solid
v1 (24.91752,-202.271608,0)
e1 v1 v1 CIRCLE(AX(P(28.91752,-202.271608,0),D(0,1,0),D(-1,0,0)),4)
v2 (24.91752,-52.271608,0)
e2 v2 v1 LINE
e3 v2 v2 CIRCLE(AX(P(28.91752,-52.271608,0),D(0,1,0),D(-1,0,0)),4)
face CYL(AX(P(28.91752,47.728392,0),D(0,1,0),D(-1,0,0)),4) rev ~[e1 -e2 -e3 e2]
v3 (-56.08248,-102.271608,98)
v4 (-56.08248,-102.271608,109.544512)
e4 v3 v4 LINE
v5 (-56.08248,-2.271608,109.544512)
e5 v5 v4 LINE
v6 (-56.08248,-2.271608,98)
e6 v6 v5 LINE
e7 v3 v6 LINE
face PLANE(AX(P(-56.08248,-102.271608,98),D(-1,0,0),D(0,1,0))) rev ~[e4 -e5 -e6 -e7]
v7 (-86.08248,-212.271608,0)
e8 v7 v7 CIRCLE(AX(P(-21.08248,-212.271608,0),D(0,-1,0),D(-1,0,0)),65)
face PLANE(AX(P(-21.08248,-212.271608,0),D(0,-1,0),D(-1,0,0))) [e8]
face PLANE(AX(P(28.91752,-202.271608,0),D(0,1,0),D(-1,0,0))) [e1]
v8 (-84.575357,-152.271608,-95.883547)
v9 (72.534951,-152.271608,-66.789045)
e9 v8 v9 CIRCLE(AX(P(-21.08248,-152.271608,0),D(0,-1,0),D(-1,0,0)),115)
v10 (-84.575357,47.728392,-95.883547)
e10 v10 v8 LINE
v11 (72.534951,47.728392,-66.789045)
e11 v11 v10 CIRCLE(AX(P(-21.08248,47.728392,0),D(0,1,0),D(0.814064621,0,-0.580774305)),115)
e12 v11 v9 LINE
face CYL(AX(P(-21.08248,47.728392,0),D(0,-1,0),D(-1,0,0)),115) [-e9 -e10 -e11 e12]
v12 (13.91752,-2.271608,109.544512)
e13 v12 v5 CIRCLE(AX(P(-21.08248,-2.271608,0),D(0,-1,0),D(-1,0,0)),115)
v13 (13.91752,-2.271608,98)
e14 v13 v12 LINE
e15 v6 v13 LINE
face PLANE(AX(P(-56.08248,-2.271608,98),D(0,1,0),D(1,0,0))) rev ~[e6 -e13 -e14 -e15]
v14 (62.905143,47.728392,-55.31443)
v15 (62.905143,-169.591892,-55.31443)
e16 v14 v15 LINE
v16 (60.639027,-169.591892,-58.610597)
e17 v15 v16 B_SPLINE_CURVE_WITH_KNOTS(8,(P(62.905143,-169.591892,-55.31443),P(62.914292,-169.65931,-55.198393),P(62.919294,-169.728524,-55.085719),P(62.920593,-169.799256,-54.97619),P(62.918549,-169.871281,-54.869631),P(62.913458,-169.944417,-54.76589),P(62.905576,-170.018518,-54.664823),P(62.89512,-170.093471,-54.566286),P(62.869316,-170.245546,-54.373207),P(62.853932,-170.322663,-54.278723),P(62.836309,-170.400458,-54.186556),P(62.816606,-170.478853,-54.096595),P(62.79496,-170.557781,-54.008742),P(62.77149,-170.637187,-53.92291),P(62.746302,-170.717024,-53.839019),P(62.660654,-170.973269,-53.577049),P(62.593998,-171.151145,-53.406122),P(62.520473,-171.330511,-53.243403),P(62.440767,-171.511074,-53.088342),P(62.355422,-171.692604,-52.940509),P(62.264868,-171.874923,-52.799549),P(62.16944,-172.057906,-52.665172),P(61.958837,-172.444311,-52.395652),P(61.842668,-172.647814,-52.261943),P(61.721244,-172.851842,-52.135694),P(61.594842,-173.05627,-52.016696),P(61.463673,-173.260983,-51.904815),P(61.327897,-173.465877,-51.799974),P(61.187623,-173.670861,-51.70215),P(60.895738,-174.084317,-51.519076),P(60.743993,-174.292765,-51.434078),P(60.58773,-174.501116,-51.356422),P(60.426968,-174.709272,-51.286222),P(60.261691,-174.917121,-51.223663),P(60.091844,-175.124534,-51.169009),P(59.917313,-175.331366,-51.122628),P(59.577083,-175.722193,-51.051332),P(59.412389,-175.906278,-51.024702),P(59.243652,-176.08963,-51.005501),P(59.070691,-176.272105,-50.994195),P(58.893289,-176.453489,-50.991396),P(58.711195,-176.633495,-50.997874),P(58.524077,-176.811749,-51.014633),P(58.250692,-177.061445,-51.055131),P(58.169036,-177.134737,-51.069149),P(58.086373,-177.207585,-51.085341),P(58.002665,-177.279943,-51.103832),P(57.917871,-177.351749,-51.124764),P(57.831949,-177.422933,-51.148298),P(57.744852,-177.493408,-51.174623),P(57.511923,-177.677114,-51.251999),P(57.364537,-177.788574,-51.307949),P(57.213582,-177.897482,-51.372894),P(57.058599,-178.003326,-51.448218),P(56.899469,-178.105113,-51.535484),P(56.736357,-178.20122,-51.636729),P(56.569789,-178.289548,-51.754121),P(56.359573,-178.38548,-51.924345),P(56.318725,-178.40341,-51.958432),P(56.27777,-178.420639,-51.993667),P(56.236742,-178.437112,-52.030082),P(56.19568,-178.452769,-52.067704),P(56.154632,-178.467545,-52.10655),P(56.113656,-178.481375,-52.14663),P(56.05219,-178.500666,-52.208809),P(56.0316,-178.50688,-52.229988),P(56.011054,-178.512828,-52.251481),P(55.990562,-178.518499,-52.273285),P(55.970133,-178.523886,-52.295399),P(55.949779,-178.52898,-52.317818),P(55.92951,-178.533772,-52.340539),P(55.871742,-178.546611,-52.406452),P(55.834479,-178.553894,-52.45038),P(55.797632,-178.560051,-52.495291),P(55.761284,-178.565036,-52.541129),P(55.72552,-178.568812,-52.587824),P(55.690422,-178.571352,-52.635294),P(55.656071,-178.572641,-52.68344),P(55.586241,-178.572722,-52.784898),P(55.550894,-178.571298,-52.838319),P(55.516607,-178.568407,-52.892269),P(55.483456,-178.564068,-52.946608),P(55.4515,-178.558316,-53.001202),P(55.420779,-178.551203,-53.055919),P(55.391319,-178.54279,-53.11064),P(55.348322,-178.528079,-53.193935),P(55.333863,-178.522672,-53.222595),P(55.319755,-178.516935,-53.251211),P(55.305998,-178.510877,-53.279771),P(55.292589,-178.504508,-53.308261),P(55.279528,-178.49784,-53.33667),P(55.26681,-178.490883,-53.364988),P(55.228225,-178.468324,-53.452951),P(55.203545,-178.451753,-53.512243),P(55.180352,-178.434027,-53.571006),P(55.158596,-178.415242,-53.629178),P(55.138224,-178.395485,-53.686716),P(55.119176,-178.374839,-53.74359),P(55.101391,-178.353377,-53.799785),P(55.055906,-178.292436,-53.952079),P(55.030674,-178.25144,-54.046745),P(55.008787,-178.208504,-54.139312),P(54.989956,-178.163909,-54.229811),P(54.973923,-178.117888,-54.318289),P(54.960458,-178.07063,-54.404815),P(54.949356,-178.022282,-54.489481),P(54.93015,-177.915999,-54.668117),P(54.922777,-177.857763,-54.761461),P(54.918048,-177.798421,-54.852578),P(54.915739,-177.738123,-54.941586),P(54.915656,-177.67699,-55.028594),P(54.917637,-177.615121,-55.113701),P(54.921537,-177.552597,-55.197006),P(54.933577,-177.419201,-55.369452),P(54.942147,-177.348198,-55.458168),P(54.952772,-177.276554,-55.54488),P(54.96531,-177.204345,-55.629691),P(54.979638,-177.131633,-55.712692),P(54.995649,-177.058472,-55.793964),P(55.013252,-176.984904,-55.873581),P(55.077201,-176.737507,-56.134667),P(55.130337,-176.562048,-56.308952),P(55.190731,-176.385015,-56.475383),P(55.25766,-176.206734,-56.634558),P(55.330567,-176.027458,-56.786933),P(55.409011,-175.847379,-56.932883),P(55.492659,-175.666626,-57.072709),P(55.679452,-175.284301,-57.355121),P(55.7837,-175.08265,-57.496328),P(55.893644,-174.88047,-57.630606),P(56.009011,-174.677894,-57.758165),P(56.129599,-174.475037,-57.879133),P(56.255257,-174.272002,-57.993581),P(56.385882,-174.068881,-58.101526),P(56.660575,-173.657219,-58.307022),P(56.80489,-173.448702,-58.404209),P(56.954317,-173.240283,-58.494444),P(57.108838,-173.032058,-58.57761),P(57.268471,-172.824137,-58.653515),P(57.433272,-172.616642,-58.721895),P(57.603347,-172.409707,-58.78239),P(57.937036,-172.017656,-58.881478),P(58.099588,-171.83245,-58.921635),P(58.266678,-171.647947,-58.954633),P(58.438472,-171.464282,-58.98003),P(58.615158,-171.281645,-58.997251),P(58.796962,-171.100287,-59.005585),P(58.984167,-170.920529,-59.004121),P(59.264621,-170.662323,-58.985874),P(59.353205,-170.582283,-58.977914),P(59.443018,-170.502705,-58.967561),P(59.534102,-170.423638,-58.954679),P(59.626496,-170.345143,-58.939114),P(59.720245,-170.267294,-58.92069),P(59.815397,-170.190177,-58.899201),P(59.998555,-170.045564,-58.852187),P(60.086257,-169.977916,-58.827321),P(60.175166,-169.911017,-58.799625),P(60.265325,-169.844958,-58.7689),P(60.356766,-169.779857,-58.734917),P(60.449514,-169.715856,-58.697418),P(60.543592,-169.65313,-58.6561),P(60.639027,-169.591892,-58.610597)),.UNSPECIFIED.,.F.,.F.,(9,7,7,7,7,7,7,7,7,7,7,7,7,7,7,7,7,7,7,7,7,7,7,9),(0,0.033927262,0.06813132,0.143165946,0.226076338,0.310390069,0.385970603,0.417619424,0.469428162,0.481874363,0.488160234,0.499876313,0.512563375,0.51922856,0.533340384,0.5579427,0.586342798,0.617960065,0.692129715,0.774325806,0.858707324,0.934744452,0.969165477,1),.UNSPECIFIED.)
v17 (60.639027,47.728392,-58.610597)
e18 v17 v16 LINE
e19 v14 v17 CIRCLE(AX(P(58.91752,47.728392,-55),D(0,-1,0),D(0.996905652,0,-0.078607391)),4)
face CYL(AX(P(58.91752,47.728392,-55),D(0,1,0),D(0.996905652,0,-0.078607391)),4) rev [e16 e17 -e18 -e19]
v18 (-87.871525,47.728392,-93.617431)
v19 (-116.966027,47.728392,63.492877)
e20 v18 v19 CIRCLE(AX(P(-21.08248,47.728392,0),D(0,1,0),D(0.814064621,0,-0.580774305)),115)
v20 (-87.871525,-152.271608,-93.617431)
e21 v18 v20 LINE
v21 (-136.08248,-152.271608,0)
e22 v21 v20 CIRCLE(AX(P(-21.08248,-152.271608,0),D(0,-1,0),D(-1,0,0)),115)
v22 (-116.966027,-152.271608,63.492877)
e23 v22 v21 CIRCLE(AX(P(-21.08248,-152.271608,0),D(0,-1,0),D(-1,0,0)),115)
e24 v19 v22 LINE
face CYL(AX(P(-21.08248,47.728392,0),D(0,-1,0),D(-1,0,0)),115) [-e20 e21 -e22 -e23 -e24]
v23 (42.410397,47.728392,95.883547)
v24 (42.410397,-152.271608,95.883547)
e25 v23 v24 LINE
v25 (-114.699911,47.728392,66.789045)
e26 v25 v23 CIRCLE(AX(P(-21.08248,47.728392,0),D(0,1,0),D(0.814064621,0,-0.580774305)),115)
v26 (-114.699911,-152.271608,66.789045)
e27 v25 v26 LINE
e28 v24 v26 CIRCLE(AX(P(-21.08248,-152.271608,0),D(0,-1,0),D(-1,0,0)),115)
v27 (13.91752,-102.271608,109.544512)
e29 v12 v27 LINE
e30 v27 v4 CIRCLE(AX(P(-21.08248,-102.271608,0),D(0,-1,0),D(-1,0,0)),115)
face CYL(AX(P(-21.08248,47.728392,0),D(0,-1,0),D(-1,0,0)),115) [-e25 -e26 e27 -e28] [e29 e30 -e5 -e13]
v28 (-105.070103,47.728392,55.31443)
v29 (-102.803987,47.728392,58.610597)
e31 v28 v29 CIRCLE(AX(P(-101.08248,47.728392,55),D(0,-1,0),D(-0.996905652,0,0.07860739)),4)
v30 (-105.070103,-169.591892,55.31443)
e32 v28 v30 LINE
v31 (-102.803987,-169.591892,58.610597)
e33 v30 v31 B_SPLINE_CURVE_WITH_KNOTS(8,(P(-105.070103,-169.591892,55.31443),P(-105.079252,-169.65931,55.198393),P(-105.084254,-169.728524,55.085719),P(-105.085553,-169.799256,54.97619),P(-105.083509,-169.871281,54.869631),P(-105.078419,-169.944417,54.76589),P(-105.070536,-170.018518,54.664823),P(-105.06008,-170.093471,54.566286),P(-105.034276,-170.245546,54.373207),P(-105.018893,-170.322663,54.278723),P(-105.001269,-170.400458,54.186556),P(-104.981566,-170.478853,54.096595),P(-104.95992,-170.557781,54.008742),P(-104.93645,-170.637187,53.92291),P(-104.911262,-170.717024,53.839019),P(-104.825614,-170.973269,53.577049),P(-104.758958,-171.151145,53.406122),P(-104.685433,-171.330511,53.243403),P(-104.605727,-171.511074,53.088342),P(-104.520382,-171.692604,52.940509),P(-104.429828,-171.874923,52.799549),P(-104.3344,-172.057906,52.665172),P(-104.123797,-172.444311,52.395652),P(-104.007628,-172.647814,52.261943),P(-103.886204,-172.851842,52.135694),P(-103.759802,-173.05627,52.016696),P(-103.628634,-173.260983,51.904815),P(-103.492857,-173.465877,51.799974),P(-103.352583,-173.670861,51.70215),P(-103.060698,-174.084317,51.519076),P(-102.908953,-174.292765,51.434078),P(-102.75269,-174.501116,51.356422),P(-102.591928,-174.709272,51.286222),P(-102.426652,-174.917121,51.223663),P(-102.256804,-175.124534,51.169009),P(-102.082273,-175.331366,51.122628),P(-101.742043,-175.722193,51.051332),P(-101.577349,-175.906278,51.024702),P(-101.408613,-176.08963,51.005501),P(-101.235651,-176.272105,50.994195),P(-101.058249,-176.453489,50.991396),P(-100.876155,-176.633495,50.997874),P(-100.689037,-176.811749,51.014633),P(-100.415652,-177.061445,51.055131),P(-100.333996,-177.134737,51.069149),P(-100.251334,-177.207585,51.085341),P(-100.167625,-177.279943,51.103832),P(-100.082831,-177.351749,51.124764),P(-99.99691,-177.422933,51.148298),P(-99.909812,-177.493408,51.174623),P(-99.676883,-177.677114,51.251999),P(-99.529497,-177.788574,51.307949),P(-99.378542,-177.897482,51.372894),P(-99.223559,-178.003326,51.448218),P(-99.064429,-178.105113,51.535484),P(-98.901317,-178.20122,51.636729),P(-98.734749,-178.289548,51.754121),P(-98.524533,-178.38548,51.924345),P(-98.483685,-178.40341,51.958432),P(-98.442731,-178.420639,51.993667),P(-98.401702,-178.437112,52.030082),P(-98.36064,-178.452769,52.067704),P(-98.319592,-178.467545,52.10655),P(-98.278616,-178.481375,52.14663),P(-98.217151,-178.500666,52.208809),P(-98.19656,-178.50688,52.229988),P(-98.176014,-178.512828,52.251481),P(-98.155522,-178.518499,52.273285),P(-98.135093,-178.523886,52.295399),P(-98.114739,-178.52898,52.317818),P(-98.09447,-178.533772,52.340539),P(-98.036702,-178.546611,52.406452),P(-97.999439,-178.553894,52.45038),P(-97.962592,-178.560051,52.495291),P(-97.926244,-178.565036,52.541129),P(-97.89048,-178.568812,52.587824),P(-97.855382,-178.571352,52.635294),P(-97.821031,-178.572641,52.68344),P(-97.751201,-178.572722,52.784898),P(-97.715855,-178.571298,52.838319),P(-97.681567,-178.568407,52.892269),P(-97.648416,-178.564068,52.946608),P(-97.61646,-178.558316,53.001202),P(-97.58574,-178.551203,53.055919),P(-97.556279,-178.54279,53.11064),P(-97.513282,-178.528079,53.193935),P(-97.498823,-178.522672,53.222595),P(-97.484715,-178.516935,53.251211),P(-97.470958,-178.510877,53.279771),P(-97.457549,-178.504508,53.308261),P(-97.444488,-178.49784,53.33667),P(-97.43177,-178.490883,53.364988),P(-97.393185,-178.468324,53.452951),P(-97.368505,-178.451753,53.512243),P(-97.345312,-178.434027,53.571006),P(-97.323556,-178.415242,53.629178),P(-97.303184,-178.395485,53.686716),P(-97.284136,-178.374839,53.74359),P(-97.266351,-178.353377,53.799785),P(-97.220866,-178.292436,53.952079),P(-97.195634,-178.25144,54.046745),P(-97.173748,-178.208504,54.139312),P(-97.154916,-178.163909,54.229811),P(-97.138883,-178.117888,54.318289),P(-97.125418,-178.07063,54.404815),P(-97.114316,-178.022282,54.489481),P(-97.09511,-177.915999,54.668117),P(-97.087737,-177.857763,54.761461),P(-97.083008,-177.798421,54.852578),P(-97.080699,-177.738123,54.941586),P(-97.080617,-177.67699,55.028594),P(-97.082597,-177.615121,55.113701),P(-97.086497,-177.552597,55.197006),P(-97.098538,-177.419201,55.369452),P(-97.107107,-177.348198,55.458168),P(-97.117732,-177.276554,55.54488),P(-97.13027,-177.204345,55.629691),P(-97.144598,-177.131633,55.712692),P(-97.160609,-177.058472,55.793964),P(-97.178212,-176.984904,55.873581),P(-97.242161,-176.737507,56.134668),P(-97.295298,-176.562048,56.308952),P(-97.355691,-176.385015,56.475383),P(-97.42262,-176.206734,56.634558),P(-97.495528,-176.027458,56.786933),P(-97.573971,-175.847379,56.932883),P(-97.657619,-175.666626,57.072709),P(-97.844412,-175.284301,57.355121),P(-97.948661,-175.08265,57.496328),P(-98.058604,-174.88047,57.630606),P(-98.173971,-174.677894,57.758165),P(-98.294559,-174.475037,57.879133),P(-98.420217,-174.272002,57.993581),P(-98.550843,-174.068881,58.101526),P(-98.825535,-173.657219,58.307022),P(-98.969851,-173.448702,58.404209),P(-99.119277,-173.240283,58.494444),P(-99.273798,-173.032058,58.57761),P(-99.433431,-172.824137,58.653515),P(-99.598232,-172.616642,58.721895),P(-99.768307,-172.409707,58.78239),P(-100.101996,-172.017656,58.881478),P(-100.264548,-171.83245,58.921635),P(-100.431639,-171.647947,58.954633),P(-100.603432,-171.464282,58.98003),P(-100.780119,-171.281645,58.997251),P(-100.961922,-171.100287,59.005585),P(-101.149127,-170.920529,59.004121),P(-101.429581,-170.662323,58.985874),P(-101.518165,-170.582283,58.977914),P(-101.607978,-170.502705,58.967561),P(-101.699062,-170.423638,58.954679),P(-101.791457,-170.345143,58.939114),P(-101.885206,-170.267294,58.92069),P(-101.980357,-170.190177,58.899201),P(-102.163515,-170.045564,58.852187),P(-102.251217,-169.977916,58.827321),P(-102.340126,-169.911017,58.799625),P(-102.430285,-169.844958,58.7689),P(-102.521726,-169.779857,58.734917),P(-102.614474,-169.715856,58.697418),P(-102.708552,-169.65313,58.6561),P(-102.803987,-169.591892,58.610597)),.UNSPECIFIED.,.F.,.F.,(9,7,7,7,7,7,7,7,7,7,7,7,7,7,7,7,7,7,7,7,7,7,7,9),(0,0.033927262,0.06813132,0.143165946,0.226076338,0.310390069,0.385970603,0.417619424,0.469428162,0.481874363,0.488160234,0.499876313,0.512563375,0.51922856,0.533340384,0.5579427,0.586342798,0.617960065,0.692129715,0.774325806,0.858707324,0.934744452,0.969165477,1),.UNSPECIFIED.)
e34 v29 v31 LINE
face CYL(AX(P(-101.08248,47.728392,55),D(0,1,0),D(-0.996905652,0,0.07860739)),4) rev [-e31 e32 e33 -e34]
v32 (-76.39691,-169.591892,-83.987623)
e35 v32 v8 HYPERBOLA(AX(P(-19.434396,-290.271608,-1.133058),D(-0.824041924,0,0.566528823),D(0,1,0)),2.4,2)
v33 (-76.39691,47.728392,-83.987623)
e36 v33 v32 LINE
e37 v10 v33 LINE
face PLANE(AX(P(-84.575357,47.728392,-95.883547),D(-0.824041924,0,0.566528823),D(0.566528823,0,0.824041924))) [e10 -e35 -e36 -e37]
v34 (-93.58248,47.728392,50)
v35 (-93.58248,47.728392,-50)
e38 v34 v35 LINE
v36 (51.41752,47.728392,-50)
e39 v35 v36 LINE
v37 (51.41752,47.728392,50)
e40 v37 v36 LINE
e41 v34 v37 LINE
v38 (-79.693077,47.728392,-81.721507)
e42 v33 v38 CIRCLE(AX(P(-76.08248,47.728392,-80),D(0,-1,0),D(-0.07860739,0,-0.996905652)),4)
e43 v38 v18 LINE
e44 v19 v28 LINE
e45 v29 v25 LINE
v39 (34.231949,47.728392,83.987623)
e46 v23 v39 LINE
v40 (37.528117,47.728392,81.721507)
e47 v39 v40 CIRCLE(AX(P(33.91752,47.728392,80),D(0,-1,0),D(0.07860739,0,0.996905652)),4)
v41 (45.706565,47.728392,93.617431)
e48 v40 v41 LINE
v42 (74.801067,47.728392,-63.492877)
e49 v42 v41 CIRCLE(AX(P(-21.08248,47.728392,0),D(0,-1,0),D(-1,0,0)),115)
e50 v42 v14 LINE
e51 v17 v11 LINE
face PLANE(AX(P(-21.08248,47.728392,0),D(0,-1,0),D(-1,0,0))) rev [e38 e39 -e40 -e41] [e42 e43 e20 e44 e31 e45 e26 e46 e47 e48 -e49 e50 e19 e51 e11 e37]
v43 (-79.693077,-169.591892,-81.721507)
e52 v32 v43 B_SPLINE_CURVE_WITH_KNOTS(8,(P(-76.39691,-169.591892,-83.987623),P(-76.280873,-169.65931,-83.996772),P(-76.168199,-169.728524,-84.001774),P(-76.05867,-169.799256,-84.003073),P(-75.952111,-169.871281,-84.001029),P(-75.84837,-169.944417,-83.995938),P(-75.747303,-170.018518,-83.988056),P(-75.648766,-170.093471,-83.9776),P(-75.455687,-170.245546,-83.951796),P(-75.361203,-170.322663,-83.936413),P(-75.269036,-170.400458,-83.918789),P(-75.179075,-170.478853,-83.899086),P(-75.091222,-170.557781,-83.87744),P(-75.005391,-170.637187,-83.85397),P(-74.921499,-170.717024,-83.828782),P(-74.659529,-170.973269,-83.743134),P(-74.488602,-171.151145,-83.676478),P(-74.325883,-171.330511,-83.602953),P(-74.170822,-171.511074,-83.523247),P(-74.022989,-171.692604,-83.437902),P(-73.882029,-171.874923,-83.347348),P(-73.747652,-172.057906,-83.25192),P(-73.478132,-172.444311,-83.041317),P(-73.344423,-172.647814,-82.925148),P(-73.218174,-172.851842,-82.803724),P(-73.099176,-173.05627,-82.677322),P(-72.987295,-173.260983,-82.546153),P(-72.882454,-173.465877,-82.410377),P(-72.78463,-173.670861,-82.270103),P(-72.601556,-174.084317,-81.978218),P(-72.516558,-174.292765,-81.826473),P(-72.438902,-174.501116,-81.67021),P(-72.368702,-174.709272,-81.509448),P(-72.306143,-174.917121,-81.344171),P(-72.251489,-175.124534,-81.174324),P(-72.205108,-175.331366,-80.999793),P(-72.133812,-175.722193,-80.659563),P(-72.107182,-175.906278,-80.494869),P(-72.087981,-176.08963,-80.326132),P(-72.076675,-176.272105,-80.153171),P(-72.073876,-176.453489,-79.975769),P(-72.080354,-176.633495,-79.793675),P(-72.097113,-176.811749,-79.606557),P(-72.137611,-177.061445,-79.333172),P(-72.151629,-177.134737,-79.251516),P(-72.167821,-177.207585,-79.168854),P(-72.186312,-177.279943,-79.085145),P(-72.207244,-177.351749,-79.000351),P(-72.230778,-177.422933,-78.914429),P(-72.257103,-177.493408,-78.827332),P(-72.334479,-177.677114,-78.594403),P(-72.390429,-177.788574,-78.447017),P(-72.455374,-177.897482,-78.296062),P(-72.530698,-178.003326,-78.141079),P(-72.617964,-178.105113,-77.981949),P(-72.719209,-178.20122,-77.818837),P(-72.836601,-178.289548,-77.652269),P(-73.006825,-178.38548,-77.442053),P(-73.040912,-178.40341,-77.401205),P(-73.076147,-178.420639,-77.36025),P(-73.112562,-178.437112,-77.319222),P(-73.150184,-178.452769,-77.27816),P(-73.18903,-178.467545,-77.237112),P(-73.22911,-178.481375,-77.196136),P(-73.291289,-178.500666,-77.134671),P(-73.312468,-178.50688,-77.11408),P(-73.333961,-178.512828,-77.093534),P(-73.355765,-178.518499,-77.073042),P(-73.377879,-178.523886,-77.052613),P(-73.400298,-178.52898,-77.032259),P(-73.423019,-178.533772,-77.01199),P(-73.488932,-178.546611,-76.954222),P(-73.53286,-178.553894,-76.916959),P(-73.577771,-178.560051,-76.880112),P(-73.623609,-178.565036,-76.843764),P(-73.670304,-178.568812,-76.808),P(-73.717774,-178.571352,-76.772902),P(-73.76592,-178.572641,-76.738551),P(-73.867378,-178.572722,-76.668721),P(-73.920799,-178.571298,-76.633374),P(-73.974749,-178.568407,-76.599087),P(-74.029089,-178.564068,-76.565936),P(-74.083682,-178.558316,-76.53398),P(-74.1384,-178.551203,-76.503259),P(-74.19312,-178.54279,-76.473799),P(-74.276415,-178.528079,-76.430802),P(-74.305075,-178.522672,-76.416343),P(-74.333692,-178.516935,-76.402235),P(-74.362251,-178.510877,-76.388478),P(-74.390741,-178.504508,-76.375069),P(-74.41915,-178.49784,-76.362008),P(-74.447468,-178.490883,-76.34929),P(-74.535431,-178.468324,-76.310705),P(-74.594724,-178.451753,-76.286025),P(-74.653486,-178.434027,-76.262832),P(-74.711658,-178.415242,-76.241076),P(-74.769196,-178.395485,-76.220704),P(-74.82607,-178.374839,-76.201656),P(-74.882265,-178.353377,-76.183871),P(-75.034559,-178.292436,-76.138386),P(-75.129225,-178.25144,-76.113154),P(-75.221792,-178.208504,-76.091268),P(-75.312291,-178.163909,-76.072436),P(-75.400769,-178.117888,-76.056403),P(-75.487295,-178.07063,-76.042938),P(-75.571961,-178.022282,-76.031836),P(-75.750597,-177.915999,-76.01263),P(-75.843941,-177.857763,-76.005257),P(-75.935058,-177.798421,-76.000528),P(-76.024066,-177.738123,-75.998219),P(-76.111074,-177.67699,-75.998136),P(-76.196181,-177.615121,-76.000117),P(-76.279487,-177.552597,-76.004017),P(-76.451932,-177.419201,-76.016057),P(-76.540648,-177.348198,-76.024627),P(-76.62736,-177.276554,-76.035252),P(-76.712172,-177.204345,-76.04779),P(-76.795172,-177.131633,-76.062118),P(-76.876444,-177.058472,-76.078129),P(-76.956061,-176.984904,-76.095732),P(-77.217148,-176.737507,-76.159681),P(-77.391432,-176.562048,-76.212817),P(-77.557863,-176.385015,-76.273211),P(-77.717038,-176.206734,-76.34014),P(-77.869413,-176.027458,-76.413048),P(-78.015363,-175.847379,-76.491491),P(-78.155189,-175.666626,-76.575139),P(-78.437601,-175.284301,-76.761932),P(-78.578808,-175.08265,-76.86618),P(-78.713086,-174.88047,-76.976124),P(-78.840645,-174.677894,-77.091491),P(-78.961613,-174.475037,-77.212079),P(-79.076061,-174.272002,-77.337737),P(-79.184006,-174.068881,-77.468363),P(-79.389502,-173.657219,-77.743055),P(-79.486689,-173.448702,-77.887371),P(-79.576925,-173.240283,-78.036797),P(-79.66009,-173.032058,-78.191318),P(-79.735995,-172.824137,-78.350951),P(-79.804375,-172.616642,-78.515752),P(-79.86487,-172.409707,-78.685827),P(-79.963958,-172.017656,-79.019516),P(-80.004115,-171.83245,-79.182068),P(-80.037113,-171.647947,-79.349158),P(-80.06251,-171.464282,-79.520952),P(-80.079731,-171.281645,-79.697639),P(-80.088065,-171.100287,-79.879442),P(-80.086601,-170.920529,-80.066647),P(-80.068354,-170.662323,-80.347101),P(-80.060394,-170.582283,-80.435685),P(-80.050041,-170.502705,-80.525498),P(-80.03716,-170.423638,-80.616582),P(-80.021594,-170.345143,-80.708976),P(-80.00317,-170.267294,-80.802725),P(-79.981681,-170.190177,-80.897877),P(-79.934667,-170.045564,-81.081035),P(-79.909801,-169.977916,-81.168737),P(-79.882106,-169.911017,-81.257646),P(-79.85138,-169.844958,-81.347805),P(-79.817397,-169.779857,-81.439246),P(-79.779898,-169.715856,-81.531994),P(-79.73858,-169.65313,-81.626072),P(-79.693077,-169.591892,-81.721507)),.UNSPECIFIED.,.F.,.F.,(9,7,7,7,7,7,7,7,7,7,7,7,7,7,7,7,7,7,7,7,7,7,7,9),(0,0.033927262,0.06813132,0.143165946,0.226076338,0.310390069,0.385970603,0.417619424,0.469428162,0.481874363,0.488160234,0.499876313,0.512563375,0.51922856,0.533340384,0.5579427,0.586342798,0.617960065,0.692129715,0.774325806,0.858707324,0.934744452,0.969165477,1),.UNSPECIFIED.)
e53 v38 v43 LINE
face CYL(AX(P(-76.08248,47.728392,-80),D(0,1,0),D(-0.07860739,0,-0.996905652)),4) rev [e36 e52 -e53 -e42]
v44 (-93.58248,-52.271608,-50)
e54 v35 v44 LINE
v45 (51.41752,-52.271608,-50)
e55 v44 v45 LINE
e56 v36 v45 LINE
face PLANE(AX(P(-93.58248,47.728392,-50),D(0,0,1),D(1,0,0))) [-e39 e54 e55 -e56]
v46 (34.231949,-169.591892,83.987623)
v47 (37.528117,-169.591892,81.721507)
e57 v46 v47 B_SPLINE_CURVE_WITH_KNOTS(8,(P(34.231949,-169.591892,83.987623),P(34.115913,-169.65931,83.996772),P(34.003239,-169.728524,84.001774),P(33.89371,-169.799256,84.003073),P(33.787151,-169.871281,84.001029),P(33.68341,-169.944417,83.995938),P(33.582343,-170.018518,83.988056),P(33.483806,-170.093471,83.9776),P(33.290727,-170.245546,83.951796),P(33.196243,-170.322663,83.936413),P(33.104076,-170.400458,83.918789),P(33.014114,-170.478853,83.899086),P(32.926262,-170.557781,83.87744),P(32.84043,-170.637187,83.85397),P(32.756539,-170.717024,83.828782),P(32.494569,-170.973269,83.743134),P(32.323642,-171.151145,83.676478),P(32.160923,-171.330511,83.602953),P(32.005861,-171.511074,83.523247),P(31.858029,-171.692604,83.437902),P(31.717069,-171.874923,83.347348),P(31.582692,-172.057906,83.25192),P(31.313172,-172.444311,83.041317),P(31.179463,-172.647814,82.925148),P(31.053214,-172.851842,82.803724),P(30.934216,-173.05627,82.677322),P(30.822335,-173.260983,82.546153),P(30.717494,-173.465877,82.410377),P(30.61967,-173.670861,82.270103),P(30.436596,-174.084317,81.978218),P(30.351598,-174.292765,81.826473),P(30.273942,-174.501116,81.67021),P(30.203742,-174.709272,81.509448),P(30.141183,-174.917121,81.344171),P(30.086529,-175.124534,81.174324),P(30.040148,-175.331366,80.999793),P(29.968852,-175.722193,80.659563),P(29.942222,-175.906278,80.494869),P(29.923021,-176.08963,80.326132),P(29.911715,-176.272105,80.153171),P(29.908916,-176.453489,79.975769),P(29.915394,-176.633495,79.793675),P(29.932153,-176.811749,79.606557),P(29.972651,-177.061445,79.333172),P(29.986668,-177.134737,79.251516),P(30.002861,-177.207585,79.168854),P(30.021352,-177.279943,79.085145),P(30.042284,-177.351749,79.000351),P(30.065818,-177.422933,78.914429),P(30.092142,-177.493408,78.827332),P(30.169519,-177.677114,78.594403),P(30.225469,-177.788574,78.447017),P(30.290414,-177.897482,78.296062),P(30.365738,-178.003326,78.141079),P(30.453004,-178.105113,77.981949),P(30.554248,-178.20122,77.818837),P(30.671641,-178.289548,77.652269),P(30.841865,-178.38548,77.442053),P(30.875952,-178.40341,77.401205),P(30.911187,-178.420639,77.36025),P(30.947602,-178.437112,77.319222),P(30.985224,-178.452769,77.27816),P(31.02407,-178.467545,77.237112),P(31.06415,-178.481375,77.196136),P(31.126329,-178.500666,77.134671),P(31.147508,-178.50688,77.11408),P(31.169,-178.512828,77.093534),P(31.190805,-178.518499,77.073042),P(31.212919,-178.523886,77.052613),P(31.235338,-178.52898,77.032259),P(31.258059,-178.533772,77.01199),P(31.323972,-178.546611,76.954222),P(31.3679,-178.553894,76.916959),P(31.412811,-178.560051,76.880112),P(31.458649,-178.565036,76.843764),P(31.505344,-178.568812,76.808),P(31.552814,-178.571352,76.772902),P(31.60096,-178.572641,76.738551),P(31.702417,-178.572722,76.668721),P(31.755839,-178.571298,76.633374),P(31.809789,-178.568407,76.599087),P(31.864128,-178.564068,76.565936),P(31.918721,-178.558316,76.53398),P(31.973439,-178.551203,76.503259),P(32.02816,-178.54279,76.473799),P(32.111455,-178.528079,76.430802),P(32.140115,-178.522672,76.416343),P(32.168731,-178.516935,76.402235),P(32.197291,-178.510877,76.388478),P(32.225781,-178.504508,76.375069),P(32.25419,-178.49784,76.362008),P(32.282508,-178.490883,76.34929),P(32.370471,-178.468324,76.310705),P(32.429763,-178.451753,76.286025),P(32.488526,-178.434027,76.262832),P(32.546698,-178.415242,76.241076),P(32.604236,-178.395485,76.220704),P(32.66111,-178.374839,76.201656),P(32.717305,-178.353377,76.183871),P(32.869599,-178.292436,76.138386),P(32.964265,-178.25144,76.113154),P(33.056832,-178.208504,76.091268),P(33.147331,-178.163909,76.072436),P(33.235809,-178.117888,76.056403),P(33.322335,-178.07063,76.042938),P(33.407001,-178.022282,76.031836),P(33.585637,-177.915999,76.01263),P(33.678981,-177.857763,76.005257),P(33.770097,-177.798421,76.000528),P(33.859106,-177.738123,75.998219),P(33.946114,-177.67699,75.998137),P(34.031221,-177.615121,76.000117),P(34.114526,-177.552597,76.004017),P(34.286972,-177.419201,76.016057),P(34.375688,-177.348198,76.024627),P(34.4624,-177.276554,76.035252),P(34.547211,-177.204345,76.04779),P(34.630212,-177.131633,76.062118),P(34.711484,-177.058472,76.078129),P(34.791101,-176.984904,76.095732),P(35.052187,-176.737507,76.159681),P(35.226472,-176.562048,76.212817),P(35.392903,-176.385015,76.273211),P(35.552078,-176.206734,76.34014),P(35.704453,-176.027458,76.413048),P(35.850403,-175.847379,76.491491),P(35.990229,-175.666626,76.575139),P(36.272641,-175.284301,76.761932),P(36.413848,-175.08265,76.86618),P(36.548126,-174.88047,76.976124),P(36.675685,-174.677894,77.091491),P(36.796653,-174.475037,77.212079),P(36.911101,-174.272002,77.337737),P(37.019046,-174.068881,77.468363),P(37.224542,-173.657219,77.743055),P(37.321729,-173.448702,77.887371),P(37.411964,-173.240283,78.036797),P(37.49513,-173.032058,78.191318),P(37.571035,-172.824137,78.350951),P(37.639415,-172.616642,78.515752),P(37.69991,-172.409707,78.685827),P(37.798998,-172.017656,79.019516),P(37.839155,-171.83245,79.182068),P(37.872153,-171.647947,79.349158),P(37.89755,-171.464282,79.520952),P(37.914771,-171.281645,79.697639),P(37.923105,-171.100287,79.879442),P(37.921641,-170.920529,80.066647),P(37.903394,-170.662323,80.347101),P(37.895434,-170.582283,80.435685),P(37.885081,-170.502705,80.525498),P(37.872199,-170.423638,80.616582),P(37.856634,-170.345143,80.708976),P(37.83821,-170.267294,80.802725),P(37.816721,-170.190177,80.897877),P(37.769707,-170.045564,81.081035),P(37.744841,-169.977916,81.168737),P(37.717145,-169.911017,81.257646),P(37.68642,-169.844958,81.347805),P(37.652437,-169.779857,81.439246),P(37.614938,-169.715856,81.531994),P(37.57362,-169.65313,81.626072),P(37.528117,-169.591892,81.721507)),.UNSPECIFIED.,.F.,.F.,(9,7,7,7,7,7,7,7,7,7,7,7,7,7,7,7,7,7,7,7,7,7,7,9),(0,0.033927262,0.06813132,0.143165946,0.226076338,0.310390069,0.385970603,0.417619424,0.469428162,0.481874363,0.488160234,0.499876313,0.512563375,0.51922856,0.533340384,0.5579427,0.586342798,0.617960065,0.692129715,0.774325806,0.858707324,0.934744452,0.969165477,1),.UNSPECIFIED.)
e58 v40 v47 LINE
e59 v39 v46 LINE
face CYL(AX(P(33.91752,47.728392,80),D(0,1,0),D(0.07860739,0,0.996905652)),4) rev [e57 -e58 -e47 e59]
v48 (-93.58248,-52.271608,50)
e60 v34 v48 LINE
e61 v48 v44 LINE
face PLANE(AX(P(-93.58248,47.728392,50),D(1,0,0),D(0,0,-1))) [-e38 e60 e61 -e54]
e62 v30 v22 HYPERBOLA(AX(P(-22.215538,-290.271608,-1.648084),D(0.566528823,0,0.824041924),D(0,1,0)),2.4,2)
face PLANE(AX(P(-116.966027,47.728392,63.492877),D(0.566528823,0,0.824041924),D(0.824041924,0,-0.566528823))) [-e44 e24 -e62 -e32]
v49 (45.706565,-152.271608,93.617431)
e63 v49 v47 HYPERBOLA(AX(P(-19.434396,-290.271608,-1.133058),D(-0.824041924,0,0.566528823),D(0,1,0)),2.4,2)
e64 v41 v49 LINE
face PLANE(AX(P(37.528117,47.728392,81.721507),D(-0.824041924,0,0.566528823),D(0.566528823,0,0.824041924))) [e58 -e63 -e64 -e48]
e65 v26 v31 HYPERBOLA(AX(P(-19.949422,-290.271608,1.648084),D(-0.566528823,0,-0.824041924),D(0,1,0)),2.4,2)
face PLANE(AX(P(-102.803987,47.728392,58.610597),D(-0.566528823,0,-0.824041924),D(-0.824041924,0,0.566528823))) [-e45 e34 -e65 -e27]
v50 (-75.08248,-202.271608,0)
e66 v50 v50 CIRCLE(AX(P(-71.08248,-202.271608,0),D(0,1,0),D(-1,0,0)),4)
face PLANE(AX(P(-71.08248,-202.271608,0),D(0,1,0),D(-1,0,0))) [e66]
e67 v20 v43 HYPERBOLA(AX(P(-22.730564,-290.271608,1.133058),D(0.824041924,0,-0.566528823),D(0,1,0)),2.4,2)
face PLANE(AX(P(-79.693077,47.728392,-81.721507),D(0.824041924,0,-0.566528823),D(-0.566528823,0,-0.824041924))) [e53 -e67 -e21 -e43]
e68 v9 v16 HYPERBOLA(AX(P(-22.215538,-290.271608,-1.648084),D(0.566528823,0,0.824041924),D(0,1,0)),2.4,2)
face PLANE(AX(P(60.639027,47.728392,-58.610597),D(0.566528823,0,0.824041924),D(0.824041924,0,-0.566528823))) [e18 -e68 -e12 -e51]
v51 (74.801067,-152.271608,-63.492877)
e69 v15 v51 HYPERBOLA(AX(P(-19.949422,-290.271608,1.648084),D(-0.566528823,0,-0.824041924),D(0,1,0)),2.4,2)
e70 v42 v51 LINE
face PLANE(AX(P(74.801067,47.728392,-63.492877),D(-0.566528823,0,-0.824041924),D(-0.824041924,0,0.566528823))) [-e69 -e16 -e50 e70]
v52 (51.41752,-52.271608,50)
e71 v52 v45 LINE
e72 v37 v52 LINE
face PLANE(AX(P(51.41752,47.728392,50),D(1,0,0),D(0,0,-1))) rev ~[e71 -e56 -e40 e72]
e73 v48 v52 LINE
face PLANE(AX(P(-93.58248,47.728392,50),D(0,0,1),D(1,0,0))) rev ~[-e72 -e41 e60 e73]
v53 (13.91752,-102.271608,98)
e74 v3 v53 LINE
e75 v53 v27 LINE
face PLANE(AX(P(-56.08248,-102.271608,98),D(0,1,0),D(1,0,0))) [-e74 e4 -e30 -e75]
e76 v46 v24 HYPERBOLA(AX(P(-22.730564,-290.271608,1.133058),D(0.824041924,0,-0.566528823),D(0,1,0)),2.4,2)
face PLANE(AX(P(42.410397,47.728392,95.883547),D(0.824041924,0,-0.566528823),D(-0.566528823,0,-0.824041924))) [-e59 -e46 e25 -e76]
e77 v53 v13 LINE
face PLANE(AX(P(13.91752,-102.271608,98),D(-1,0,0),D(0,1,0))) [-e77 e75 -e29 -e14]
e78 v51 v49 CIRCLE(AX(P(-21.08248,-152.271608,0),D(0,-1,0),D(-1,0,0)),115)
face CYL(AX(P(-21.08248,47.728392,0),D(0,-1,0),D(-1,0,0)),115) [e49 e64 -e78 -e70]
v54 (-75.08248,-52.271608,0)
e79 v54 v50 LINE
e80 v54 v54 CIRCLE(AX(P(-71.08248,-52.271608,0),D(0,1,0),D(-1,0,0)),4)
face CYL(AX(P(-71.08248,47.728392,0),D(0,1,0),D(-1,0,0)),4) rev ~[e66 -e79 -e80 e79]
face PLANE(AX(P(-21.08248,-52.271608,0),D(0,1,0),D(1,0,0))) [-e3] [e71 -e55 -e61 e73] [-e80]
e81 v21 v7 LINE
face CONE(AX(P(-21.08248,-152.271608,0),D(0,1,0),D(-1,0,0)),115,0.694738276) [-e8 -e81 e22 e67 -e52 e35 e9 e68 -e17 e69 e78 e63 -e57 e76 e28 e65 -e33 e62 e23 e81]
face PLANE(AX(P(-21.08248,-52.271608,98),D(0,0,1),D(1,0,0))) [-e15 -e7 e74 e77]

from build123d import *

# Parameters (mm, degrees)
TAGLIO_ESTRUSIONE1_REACH = 262
SCHIZZO3_W               = 145
SCHIZZO3_H               = 100
TAGLIO_ESTRUSIONE2_DEPTH = 100
SCHIZZO4_R               = 4
TAGLIO_ESTRUSIONE3_DEPTH = 250
SCHIZZO6_W               = 70
SCHIZZO6_H               = 100
TAGLIO_ESTRUSIONE4_DEPTH = 18.0000001


with BuildPart() as part:
    # Schizzo1 → Rivoluzione1 (revolve)
    with BuildSketch(Plane.XY, mode=Mode.PRIVATE) as rivoluzione1_sk:
        Polygon((-21.082480081, 47.728392405), (93.917519919, 47.728392405), (93.917519919, -152.271607595), (43.917519919, -212.271607595), (-21.082480081, -212.271607595), align=None)
    revolve(rivoluzione1_sk.sketch.rotate(Axis((-21.082480081, 47.728392405, 0), (0, -1, 0)), 180), axis=Axis((-21.082480081, 47.728392405, 0), (0, -1, 0)))  # turned: the seam where the file's is

    # Taglio-Estrusione1: up to this cone (the profile starts inside it)
    taglio_estrusione1_end = Plane(origin=(-21.082480081, 47.728392, 0), z_dir=(0, 1, 0)).offset(-337.999998595) * Cone(1e-06, 735.13888827, 882.166664924, align=(Align.CENTER, Align.CENTER, Align.MIN), mode=Mode.PRIVATE)
    # Schizzo2 → Taglio-Estrusione1 (cut, up to the surface)
    with BuildSketch(Plane(origin=(0, 47.728392405, 0), x_dir=(1, 0, 0), z_dir=(0, 1, 0)), mode=Mode.PRIVATE) as taglio_estrusione1_sk1:
        with BuildLine():
            Line((60.639027234, 58.610597259), (72.534951309, 66.78904506))
            ThreePointArc((72.534951309, 66.78904506), (73.682341202, 65.150814632), (74.8010666, 63.492877363))
            Line((74.8010666, 63.492877363), (62.905142526, 55.314429562))
            ThreePointArc((62.905142526, 55.314429562), (55.621352222, 52.733884708), (60.639027234, 58.610597259))
        make_face()
    taglio_estrusione1_tool1 = extrude(taglio_estrusione1_sk1.sketch, amount=-TAGLIO_ESTRUSIONE1_REACH, mode=Mode.PRIVATE) & taglio_estrusione1_end
    add(taglio_estrusione1_tool1.solids().sort_by_distance((63.650663, 47.728392, -58.254036))[0], mode=Mode.SUBTRACT)
    # Schizzo2 → Taglio-Estrusione1 (cut, up to the surface)
    with BuildSketch(Plane(origin=(0, 47.728392405, 0), x_dir=(1, 0, 0), z_dir=(0, 1, 0)), mode=Mode.PRIVATE) as taglio_estrusione1_sk2:
        with BuildLine():
            Line((37.528117178, -81.721507315), (45.706564979, -93.617431389))
            ThreePointArc((45.706564979, -93.617431389), (44.068334551, -94.764821283), (42.410397283, -95.883546681))
            Line((42.410397283, -95.883546681), (34.231949481, -83.987622606))
            ThreePointArc((34.231949481, -83.987622606), (31.651404628, -76.703832303), (37.528117178, -81.721507315))
        make_face()
    taglio_estrusione1_tool2 = extrude(taglio_estrusione1_sk2.sketch, amount=-TAGLIO_ESTRUSIONE1_REACH, mode=Mode.PRIVATE) & taglio_estrusione1_end
    add(taglio_estrusione1_tool2.solids().sort_by_distance((37.171556, 47.728392, 84.733143))[0], mode=Mode.SUBTRACT)
    # Schizzo2 → Taglio-Estrusione1 (cut, up to the surface)
    with BuildSketch(Plane(origin=(0, 47.728392405, 0), x_dir=(1, 0, 0), z_dir=(0, 1, 0)), mode=Mode.PRIVATE) as taglio_estrusione1_sk3:
        with BuildLine():
            Line((-102.803987396, -58.610597259), (-114.69991147, -66.78904506))
            ThreePointArc((-114.69991147, -66.78904506), (-115.847301364, -65.150814632), (-116.966026762, -63.492877363))
            Line((-116.966026762, -63.492877363), (-105.070102687, -55.314429562))
            ThreePointArc((-105.070102687, -55.314429562), (-97.786312384, -52.733884708), (-102.803987396, -58.610597259))
        make_face()
    taglio_estrusione1_tool3 = extrude(taglio_estrusione1_sk3.sketch, amount=-TAGLIO_ESTRUSIONE1_REACH, mode=Mode.PRIVATE) & taglio_estrusione1_end
    add(taglio_estrusione1_tool3.solids().sort_by_distance((-105.815623, 47.728392, 58.254036))[0], mode=Mode.SUBTRACT)
    # Schizzo2 → Taglio-Estrusione1 (cut, up to the surface)
    with BuildSketch(Plane(origin=(0, 47.728392405, 0), x_dir=(1, 0, 0), z_dir=(0, 1, 0)), mode=Mode.PRIVATE) as taglio_estrusione1_sk4:
        with BuildLine():
            Line((-79.69307734, 81.721507315), (-87.871525141, 93.617431389))
            ThreePointArc((-87.871525141, 93.617431389), (-86.233294713, 94.764821283), (-84.575357444, 95.883546681))
            Line((-84.575357444, 95.883546681), (-76.396909643, 83.987622606))
            ThreePointArc((-76.396909643, 83.987622606), (-73.816364789, 76.703832303), (-79.69307734, 81.721507315))
        make_face()
    taglio_estrusione1_tool4 = extrude(taglio_estrusione1_sk4.sketch, amount=-TAGLIO_ESTRUSIONE1_REACH, mode=Mode.PRIVATE) & taglio_estrusione1_end
    add(taglio_estrusione1_tool4.solids().sort_by_distance((-79.336516, 47.728392, -84.733143))[0], mode=Mode.SUBTRACT)

    # Schizzo3 → Taglio-Estrusione2 (cut)
    with BuildSketch(Plane(origin=(0, 47.728392405, 0), x_dir=(1, 0, 0), z_dir=(0, 1, 0))):
        with Locations((-21.082480081, 0)):
            Rectangle(SCHIZZO3_W, SCHIZZO3_H)
    extrude(amount=-TAGLIO_ESTRUSIONE2_DEPTH, mode=Mode.SUBTRACT)

    # Schizzo4 → Taglio-Estrusione3 (cut)
    with BuildSketch(Plane(origin=(0, 47.728392405, 0), x_dir=(1, 0, 0), z_dir=(0, 1, 0))):
        with Locations(Location((-71.082480081, 0, 0), (0, 0, 180))):  # turned: the seam where the file's is
            Circle(SCHIZZO4_R)
        with Locations(Location((28.917519919, 0, 0), (0, 0, 180))):  # turned: the seam where the file's is
            Circle(SCHIZZO4_R)
    extrude(amount=-TAGLIO_ESTRUSIONE3_DEPTH, mode=Mode.SUBTRACT)

    # Schizzo6 → Taglio-Estrusione4 (cut, through all)
    with BuildSketch(Plane.XY.offset(98)):
        with Locations((-21.082480081, -52.271607595)):
            Rectangle(SCHIZZO6_W, SCHIZZO6_H)
    extrude(amount=TAGLIO_ESTRUSIONE4_DEPTH, mode=Mode.SUBTRACT)


solid = part.part
